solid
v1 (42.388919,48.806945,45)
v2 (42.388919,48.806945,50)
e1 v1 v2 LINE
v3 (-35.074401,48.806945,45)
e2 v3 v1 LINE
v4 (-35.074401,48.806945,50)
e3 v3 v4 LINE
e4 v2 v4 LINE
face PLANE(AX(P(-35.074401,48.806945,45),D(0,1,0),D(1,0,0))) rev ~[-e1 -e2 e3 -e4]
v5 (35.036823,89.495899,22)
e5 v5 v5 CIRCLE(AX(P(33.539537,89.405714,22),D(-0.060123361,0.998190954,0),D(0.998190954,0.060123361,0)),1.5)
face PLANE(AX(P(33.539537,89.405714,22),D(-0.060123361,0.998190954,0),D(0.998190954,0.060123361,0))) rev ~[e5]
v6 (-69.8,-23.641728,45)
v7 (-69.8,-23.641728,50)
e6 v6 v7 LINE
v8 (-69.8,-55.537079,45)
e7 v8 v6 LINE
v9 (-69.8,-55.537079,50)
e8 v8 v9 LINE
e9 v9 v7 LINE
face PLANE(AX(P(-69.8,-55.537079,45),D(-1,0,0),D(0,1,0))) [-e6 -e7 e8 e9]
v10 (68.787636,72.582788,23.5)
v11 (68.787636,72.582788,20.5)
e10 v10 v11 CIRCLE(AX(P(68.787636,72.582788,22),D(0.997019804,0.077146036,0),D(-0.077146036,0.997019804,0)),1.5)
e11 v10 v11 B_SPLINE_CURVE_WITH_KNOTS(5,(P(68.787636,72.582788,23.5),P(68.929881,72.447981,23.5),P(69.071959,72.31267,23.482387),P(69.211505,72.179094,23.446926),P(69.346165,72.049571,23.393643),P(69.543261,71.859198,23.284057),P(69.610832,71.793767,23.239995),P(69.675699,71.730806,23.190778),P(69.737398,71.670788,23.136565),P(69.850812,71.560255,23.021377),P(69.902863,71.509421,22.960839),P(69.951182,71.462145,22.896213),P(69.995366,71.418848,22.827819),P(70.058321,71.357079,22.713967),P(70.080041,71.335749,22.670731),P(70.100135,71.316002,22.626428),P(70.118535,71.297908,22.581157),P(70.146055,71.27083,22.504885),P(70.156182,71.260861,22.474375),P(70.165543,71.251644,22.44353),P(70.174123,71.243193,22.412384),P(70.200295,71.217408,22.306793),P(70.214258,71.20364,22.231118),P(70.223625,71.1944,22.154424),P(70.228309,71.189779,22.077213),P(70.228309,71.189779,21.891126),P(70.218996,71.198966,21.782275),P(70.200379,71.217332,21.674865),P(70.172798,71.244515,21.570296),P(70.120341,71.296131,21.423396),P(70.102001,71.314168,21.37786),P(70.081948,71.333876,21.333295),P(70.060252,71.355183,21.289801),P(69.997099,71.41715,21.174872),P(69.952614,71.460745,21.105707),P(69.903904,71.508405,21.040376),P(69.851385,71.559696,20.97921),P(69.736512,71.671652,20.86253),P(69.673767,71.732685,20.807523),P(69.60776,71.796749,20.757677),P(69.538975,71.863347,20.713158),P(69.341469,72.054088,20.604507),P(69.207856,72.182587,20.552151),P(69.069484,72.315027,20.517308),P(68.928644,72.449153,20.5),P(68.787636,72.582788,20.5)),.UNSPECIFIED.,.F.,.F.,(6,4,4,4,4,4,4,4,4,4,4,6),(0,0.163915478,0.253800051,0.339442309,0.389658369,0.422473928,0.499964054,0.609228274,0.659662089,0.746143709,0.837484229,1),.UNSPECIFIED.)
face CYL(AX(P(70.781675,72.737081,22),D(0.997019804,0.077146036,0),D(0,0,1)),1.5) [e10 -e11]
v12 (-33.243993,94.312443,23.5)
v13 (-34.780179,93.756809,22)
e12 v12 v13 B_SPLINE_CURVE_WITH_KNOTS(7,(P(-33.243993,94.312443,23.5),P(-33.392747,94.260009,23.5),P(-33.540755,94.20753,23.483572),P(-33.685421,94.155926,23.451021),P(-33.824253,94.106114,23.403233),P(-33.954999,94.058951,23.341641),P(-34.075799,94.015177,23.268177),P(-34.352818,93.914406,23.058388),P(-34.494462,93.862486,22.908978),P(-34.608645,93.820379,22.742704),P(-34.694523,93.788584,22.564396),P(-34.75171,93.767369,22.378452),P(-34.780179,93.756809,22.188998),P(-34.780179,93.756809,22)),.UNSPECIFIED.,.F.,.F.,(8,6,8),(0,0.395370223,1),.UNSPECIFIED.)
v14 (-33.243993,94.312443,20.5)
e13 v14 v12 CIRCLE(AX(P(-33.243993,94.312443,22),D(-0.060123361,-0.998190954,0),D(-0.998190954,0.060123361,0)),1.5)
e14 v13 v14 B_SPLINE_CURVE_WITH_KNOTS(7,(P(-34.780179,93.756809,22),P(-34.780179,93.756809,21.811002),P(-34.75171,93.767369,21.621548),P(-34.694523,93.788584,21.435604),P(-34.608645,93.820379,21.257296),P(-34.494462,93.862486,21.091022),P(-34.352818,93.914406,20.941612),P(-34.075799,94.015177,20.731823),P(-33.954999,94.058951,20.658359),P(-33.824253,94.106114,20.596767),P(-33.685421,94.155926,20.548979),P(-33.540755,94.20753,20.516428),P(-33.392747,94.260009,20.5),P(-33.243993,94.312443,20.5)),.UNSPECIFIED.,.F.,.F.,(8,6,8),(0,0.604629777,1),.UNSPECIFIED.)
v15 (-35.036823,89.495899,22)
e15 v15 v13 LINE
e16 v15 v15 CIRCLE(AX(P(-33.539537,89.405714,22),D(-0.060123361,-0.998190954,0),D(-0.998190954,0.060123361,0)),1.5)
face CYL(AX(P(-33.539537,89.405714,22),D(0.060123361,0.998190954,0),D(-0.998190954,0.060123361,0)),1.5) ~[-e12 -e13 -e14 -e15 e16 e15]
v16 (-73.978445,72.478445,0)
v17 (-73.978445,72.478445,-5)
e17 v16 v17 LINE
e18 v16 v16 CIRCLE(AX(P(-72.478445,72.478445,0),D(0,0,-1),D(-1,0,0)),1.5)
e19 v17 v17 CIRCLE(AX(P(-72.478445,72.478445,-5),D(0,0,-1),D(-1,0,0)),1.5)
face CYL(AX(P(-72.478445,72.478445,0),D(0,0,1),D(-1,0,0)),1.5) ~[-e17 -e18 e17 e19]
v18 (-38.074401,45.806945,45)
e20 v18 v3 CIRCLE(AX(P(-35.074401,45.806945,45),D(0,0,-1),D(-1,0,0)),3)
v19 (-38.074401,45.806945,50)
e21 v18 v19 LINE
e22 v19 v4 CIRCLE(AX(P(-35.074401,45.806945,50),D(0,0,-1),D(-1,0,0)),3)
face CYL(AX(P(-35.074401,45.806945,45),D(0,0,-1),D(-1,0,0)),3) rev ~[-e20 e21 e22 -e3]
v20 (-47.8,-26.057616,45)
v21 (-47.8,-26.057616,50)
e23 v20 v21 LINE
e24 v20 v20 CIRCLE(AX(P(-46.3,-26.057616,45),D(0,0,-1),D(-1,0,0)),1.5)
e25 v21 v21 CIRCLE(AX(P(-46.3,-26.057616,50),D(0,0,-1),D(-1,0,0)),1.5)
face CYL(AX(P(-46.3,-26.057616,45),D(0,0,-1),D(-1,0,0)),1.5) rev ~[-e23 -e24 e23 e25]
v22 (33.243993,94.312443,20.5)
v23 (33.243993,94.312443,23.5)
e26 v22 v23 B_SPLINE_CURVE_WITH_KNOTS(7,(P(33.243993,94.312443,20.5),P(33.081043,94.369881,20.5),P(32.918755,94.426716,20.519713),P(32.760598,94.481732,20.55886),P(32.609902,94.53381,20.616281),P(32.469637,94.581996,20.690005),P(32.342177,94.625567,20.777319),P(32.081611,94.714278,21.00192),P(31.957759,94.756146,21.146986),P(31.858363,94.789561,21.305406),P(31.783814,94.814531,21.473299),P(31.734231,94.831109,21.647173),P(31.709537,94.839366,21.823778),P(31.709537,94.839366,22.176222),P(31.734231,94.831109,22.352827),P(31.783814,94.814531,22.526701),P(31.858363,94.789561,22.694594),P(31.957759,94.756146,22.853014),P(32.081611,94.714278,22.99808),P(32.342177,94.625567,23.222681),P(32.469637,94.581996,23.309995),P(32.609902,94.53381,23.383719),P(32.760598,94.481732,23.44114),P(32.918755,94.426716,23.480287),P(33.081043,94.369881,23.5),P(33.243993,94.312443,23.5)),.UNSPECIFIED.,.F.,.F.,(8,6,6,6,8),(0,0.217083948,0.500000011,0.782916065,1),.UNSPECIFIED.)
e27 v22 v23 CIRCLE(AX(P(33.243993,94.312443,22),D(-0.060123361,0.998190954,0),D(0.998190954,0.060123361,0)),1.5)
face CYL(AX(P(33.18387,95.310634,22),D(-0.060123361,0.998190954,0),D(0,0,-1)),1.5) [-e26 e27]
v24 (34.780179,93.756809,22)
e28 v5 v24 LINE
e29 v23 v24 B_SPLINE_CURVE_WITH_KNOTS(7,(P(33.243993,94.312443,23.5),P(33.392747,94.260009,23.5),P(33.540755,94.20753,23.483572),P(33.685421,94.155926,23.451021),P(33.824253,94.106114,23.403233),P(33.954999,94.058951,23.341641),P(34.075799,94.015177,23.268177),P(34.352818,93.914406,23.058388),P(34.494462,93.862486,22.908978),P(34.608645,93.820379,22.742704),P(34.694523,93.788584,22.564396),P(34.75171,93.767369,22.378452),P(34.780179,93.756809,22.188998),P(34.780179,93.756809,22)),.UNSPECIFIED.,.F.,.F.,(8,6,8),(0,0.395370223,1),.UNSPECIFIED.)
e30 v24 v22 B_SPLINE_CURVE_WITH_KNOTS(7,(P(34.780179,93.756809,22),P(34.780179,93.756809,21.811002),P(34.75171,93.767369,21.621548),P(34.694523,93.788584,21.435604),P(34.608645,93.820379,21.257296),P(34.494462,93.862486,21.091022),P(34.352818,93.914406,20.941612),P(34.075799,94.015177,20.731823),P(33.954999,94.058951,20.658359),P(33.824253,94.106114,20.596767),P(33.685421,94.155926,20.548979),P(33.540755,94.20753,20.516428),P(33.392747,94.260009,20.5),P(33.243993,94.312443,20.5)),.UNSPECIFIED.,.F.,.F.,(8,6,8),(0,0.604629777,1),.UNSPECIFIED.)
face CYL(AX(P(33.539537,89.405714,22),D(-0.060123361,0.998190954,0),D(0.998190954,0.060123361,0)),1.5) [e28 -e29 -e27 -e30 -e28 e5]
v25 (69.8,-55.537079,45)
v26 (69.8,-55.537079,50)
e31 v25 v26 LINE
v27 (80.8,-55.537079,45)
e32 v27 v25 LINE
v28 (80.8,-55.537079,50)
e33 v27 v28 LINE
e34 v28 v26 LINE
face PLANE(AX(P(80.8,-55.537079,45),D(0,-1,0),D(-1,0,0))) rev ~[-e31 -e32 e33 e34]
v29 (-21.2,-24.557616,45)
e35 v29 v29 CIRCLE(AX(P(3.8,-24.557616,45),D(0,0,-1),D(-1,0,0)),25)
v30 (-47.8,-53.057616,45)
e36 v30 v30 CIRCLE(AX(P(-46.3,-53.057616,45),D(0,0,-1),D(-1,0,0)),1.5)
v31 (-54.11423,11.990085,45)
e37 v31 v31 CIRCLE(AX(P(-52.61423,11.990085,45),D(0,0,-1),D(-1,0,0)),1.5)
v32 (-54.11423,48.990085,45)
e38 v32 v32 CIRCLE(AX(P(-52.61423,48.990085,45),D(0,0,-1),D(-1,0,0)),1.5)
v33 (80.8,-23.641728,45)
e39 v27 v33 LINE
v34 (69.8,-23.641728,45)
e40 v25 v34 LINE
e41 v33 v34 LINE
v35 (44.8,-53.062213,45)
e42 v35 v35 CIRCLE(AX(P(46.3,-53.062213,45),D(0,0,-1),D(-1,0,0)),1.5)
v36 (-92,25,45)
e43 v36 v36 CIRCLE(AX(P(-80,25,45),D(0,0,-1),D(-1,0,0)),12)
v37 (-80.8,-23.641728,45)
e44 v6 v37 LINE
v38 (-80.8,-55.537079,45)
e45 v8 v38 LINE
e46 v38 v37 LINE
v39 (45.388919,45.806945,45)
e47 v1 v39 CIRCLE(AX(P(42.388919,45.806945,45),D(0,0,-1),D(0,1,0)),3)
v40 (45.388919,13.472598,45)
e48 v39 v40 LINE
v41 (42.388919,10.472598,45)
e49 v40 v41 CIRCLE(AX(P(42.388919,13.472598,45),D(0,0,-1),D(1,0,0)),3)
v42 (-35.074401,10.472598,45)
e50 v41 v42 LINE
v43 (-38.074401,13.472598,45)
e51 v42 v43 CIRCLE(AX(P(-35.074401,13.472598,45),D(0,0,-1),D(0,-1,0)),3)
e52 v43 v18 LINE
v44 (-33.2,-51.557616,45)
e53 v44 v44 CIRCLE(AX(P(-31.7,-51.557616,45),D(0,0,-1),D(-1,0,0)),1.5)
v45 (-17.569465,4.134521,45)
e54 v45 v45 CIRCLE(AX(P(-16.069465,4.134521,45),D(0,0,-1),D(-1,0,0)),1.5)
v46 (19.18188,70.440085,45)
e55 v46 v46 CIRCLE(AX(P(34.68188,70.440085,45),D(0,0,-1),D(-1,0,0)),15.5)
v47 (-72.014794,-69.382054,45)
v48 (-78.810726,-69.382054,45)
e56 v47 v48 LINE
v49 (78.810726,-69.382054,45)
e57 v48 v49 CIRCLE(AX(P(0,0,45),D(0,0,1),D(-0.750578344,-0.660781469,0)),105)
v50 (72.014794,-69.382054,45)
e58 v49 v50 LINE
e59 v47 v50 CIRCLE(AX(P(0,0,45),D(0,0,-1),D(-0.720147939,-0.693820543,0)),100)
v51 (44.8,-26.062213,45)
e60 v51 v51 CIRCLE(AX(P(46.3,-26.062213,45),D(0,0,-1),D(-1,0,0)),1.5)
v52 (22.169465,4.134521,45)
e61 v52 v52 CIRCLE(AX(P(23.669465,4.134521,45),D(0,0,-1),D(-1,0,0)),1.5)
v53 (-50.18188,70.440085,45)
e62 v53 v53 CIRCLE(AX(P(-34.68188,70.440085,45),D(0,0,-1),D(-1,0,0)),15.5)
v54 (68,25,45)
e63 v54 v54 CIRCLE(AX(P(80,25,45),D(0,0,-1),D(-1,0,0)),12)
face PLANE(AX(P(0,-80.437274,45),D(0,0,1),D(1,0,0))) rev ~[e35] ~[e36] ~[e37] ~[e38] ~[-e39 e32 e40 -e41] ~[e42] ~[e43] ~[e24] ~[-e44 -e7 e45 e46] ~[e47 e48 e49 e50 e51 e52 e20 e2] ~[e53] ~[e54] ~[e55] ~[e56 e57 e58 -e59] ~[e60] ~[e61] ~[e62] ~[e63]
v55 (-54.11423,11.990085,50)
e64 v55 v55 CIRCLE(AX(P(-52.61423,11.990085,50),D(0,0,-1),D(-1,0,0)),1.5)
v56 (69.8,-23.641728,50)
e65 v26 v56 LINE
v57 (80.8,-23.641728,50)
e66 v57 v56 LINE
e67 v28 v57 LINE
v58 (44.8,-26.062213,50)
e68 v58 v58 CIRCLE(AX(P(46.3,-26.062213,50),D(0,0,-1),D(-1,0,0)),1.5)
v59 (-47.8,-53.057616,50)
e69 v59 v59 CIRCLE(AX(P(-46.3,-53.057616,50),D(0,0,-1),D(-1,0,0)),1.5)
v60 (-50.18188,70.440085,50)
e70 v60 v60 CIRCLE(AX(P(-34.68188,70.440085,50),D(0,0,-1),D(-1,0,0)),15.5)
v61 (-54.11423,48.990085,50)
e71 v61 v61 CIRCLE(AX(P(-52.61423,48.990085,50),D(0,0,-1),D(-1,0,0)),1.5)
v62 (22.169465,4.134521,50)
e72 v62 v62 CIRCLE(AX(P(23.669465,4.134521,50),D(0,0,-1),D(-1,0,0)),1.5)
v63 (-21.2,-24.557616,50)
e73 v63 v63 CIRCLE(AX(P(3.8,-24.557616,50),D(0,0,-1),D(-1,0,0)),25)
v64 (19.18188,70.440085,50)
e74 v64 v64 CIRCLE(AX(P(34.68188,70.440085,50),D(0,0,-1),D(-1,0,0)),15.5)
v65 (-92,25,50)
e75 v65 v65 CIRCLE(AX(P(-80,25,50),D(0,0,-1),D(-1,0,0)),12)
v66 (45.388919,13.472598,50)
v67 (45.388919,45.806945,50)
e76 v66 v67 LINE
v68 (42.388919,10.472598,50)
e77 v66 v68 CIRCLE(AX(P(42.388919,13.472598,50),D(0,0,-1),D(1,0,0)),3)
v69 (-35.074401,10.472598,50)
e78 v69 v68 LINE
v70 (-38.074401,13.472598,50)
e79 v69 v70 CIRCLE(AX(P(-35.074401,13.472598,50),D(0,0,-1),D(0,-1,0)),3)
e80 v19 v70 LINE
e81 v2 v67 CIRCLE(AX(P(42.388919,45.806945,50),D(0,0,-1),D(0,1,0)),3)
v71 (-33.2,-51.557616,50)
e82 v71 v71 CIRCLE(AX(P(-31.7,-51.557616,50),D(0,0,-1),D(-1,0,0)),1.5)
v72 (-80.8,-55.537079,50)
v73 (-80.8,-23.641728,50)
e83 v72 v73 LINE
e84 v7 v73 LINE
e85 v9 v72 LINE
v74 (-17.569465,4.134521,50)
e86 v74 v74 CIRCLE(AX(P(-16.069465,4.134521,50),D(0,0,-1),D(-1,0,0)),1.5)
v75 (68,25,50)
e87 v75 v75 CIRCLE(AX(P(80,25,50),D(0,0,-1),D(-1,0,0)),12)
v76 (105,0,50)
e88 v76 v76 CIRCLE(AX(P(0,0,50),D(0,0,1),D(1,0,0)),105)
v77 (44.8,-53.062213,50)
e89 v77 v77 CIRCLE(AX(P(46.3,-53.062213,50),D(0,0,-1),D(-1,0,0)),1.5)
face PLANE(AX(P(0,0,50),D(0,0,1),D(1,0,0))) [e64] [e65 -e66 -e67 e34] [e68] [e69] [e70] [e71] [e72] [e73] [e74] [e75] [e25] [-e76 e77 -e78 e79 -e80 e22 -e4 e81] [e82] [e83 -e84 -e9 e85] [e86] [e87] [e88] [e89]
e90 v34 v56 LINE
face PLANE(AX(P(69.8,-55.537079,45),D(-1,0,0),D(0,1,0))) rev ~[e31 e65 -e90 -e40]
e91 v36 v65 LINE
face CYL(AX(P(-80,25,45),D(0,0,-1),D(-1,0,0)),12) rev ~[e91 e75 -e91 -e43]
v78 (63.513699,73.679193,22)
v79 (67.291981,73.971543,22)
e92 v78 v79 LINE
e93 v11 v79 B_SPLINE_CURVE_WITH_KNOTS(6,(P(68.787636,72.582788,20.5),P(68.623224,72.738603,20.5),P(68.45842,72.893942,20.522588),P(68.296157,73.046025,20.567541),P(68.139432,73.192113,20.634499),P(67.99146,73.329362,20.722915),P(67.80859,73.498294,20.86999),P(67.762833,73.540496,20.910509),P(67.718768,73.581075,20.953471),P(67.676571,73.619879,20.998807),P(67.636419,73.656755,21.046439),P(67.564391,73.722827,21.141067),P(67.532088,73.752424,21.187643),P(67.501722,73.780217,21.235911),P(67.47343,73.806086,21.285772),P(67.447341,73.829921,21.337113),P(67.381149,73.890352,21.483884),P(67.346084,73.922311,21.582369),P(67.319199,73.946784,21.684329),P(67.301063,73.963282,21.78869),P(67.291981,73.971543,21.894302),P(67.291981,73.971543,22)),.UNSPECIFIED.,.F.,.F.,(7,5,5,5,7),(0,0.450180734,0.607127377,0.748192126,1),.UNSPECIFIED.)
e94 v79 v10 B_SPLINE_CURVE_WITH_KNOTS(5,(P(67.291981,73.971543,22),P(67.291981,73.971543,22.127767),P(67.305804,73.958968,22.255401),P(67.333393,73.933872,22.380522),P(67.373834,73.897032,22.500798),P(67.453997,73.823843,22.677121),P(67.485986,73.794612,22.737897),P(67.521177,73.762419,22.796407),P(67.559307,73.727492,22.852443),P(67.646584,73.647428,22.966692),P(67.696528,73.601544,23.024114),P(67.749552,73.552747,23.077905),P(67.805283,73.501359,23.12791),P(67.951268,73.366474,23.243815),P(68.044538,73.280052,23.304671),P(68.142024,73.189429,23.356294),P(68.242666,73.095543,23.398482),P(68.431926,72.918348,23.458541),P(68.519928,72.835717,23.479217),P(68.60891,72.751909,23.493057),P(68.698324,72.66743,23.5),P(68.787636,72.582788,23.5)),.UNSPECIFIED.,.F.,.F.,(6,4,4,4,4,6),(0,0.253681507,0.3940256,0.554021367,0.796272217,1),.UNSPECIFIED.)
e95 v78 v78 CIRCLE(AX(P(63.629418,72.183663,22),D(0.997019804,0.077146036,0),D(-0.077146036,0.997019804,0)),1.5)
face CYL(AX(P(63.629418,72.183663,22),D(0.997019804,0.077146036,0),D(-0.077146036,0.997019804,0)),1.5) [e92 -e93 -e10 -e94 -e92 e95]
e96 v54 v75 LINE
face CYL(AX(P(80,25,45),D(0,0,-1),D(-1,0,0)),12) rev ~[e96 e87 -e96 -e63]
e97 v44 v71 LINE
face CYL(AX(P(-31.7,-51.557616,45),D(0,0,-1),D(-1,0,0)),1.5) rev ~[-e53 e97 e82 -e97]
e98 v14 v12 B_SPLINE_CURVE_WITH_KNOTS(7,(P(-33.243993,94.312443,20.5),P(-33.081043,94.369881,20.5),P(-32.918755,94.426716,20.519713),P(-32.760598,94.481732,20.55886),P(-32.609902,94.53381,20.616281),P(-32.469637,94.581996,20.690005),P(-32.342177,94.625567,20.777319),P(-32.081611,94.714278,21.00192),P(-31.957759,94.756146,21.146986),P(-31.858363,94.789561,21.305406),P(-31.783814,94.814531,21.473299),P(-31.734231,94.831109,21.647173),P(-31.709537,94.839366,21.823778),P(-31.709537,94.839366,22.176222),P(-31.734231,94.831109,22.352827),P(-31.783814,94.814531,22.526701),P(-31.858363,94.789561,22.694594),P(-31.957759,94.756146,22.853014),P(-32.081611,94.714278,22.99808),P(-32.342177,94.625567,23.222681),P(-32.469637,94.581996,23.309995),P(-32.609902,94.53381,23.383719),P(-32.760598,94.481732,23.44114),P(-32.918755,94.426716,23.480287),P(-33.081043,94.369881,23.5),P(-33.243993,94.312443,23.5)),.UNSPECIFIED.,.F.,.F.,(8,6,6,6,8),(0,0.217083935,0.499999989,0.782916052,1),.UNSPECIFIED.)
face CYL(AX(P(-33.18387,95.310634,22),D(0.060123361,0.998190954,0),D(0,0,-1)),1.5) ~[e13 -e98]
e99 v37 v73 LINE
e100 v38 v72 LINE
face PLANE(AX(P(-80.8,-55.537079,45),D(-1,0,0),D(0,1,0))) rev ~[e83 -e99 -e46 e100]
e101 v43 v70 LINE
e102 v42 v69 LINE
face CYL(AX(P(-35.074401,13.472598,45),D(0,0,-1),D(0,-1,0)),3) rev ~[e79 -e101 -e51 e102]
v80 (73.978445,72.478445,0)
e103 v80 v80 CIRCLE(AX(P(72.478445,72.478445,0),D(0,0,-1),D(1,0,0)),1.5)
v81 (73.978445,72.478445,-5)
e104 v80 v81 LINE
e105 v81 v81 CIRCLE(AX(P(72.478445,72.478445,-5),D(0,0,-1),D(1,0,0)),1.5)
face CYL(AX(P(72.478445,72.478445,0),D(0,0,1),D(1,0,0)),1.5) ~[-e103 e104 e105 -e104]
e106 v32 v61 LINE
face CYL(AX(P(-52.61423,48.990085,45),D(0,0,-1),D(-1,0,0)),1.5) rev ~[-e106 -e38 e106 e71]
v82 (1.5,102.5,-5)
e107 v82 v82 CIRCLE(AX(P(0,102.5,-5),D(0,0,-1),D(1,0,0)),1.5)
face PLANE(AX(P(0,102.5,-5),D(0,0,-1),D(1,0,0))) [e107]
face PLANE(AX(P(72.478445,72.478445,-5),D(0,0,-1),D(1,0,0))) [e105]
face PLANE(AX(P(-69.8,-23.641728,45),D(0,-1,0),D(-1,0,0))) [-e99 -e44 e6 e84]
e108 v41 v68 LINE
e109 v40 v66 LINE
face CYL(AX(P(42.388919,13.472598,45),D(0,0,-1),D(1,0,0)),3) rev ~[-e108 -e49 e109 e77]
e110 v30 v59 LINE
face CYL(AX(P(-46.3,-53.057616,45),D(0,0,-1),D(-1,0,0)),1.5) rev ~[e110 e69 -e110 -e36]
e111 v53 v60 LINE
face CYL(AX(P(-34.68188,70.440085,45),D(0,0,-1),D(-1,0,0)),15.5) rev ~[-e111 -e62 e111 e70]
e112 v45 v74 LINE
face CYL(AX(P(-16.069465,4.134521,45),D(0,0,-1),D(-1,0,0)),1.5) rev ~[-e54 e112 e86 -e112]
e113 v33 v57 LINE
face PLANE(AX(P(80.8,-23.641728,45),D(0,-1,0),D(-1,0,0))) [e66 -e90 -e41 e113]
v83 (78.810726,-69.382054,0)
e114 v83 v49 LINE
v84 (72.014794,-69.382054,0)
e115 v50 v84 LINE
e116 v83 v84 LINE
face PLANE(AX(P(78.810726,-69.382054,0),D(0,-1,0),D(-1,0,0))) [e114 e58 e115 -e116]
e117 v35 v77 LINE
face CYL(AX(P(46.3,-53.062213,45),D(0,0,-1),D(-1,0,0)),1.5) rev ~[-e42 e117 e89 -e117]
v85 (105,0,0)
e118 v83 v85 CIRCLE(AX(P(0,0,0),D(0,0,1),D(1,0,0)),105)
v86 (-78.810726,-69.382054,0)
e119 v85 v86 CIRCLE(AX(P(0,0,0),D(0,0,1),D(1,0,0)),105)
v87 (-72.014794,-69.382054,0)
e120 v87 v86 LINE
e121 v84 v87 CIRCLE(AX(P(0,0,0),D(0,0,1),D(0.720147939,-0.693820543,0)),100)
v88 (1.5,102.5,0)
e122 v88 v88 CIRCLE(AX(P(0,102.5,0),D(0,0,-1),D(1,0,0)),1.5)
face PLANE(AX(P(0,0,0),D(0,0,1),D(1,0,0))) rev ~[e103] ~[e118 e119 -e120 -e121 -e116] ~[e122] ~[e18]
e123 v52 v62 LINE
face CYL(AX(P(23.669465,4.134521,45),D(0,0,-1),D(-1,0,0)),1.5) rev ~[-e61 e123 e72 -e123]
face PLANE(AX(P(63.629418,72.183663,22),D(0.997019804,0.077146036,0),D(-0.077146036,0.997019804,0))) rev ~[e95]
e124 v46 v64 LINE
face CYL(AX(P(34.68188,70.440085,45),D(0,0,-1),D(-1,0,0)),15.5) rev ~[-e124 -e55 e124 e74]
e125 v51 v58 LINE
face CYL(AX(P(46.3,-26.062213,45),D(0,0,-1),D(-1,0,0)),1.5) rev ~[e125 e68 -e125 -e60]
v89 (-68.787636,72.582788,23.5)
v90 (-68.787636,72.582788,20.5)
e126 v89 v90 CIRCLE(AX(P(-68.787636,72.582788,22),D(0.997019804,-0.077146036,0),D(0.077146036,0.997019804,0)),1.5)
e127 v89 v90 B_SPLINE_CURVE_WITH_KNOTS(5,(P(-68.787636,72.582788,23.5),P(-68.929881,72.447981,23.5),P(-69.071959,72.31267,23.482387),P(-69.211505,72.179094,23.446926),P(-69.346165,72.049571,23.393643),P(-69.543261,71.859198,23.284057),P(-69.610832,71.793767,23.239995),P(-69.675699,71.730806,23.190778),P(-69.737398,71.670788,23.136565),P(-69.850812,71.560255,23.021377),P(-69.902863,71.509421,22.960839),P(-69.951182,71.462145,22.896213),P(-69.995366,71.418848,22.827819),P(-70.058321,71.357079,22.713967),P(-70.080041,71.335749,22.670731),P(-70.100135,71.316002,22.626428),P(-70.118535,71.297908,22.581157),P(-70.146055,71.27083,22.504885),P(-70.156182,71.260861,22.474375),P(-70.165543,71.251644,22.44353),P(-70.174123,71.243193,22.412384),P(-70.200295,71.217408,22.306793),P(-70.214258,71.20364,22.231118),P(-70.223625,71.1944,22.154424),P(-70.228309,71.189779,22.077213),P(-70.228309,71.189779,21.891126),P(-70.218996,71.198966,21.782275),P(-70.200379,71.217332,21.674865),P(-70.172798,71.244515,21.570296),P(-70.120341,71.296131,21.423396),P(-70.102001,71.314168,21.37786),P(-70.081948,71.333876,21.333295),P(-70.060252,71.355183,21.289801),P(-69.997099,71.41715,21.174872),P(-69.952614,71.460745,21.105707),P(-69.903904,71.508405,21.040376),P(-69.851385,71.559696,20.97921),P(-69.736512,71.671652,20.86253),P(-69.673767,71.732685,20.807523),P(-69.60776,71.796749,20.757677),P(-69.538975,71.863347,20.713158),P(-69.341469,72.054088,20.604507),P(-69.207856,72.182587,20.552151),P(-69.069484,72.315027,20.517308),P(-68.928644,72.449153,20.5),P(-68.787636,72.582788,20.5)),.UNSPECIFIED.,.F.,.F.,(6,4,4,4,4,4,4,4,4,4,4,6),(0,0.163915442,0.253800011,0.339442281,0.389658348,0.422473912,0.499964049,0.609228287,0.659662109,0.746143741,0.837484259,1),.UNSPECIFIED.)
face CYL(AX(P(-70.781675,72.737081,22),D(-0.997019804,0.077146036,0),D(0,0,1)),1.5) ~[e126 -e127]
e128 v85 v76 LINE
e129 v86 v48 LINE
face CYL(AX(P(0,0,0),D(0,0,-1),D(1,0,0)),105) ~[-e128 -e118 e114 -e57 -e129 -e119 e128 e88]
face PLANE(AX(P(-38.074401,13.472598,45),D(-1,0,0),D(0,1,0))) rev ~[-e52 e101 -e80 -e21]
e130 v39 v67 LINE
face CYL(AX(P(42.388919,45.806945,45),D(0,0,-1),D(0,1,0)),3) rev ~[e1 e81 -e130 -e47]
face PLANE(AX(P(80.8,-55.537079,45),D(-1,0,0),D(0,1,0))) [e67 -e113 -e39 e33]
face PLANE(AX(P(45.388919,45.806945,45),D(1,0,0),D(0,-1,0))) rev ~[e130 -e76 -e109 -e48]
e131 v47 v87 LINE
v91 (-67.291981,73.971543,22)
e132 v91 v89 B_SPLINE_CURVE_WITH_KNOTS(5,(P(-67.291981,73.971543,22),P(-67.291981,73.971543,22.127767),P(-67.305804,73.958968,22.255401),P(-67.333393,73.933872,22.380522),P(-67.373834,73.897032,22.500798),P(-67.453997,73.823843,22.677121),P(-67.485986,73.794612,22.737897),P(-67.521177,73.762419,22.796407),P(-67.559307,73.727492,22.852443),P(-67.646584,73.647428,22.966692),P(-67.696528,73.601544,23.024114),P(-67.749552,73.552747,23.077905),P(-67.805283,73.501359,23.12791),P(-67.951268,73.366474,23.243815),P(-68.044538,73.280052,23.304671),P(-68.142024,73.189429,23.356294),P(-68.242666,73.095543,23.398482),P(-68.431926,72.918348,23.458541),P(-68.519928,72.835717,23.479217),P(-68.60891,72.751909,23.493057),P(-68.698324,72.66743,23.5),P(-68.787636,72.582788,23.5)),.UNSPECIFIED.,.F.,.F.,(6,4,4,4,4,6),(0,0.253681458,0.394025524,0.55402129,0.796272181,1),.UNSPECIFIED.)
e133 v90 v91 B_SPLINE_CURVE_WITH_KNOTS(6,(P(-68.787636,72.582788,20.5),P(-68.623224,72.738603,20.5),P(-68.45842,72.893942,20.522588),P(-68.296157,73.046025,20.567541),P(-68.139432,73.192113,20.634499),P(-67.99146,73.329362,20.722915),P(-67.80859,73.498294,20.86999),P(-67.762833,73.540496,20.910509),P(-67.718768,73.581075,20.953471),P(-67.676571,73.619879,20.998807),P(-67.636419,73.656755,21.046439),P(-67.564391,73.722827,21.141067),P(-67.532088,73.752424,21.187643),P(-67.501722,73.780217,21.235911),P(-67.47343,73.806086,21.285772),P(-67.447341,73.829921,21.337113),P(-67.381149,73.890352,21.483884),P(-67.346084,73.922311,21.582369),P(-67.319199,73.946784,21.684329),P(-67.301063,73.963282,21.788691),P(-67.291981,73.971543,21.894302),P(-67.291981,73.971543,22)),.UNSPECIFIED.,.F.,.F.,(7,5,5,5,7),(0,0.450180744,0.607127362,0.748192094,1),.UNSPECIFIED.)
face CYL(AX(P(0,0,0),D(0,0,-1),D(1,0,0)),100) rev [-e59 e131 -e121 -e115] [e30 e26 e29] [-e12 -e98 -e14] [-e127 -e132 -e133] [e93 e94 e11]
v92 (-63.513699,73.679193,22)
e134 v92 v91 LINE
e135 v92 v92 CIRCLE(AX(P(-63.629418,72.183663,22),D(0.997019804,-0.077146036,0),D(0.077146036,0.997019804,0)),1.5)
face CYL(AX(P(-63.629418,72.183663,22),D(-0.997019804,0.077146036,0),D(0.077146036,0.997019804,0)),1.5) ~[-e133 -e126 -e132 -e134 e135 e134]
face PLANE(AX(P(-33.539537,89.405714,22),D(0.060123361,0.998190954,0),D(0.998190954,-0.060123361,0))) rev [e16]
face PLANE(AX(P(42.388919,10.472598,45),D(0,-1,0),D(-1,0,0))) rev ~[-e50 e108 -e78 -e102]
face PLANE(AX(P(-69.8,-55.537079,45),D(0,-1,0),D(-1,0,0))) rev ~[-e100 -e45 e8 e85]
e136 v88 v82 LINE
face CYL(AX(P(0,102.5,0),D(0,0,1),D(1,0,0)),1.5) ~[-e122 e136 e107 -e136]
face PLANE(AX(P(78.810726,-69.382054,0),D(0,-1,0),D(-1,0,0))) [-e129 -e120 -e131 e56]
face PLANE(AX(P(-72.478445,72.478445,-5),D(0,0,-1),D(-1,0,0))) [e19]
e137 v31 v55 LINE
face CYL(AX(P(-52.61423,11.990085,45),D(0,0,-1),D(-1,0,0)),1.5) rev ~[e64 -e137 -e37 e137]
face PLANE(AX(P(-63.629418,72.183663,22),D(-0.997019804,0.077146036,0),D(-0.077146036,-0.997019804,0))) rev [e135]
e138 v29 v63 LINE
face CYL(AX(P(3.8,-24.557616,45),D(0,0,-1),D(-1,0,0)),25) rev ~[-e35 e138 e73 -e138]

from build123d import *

# Parameters (mm, degrees)
ESQUISSE1_R             = 105
BOSS_EXTRU_1_DEPTH      = 50
COQUE1_T                = -5
ESQUISSE3_R             = 25
ESQUISSE3_R_2           = 1.5
ENL_V_MAT_EXTRU_1_DEPTH = 10
ENL_V_MAT_EXTRU_2_DEPTH = 156.161206492
ENL_V_MAT_EXTRU_3_DEPTH = 45
ESQUISSE7_R             = 1.5
ENL_V_MAT_EXTRU_4_DEPTH = 156.161206492
ESQUISSE8_W             = 11
ESQUISSE8_H             = 31.895350387
ENL_V_MAT_EXTRU_5_DEPTH = 5
ESQUISSE9_R             = 15.5
ENL_V_MAT_EXTRU_7_DEPTH = 156.161206492
BALAYAGE1_PROFILE_R     = 1.5
BOSS_EXTRU_2_START      = 1
BOSS_EXTRU_2_DEPTH      = 1
BALAYAGE2_PROFILE_R     = 1.5
BOSS_EXTRU_3_START      = 2
BOSS_EXTRU_3_DEPTH      = 2
ESQUISSE30_R            = 1.5
BOSS_EXTRU_4_DEPTH      = 5
ESQUISSE31_R            = 12
ENL_V_MAT_EXTRU_8_DEPTH = 5


with BuildPart() as part:
    # Esquisse1 → Boss.-Extru.1 (new body)
    with BuildSketch(Plane.XY):
        Circle(ESQUISSE1_R)
    extrude(amount=BOSS_EXTRU_1_DEPTH)

    # Coque1
    coque1_openings = [part.faces().sort_by_distance(p)[0] for p in [
        (0, 0, 0),
    ]]
    offset(amount=COQUE1_T, openings=coque1_openings, kind=Kind.INTERSECTION)

    # Esquisse3 → Enlèv. mat.-Extru.1 (cut)
    with BuildSketch(Plane(origin=(0, 0, 45), x_dir=(-1, 0, 0), z_dir=(0, 0, -1))):
        with Locations((-3.8, -24.557615642)):
            Circle(ESQUISSE3_R)
        with Locations((-23.669465397, 4.134521322)):
            Circle(ESQUISSE3_R_2)
        with Locations((16.069465397, 4.134521322)):
            Circle(ESQUISSE3_R_2)
        with Locations((31.7, -51.557615642)):
            Circle(ESQUISSE3_R_2)
    extrude(amount=-ENL_V_MAT_EXTRU_1_DEPTH, mode=Mode.SUBTRACT)

    # Esquisse5 → Enlèv. mat.-Extru.2 (cut, through all)
    with BuildSketch(Plane(origin=(0, 0, 45), x_dir=(-1, 0, 0), z_dir=(0, 0, -1))):
        with BuildLine():
            Line((-42.388918531, 10.472597699), (35.07440103, 10.472597699))
            ThreePointArc((35.07440103, 10.472597699), (37.195721374, 11.351277356), (38.07440103, 13.472597699))
            Line((38.07440103, 13.472597699), (38.07440103, 45.806945365))
            ThreePointArc((38.07440103, 45.806945365), (37.195721374, 47.928265708), (35.07440103, 48.806945365))
            Line((35.07440103, 48.806945365), (-42.388918531, 48.806945365))
            ThreePointArc((-42.388918531, 48.806945365), (-44.510238875, 47.928265708), (-45.388918531, 45.806945365))
            Line((-45.388918531, 45.806945365), (-45.388918531, 13.472597699))
            ThreePointArc((-45.388918531, 13.472597699), (-44.510238875, 11.351277356), (-42.388918531, 10.472597699))
        make_face()
    extrude(amount=-ENL_V_MAT_EXTRU_2_DEPTH, mode=Mode.SUBTRACT)

    # Esquisse6 → Enlèv. mat.-Extru.3 (cut)
    with BuildSketch(Plane(origin=(0, 0, 0), x_dir=(-1, 0, 0), z_dir=(0, 0, -1))):
        with BuildLine():
            Line((-78.81072608, -69.38205427), (78.81072608, -69.38205427))
            ThreePointArc((78.81072608, -69.38205427), (0, -105), (-78.81072608, -69.38205427))
        make_face()
    extrude(amount=-ENL_V_MAT_EXTRU_3_DEPTH, mode=Mode.SUBTRACT)

    # Esquisse7 → Enlèv. mat.-Extru.4 (cut, through all)
    with BuildSketch(Plane(origin=(0, 0, 45), x_dir=(-1, 0, 0), z_dir=(0, 0, -1))):
        with Locations((52.614229855, 48.990085475)):
            Circle(ESQUISSE7_R)
        with Locations((52.614229855, 11.990085475)):
            Circle(ESQUISSE7_R)
        with Locations((46.3, -26.057615642)):
            Circle(ESQUISSE7_R)
        with Locations((46.3, -53.057615642)):
            Circle(ESQUISSE7_R)
        with Locations((-46.3, -26.062213408)):
            Circle(ESQUISSE7_R)
        with Locations((-46.3, -53.062213408)):
            Circle(ESQUISSE7_R)
    extrude(amount=-ENL_V_MAT_EXTRU_4_DEPTH, mode=Mode.SUBTRACT)

    # Esquisse8 → Enlèv. mat.-Extru.5 (cut)
    with BuildSketch(Plane(origin=(0, 0, 45), x_dir=(-1, 0, 0), z_dir=(0, 0, -1))):
        with Locations((-75.3, -39.589403314)):
            Rectangle(ESQUISSE8_W, ESQUISSE8_H)
        with Locations((75.3, -39.589403314)):
            Rectangle(ESQUISSE8_W, ESQUISSE8_H)
    extrude(amount=-ENL_V_MAT_EXTRU_5_DEPTH, mode=Mode.SUBTRACT)

    # Esquisse9 → Enlèv. mat.-Extru.7 (cut, through all)
    with BuildSketch(Plane(origin=(0, 0, 45), x_dir=(-1, 0, 0), z_dir=(0, 0, -1))):
        with Locations((34.681880454, 70.440085475)):
            Circle(ESQUISSE9_R)
        with Locations((-34.681880454, 70.440085475)):
            Circle(ESQUISSE9_R)
    extrude(amount=-ENL_V_MAT_EXTRU_7_DEPTH, mode=Mode.SUBTRACT)

    # Balayage1: sweep along a path in Esquisse10
    with BuildLine(Plane(origin=(-9.681880454, 0.440085475, 22), x_dir=(-1, 0, 0), z_dir=(0, 0, -1))) as balayage1_path:
        Line((-43.221417057, 88.965628134), (-42.925873334, 93.872357698))
    # Balayage1 profile (on start of the path) → Balayage1 (sweep)
    with BuildSketch(Plane(origin=(33.539536603, 89.405713609, 22), x_dir=(0.9981909544337458, 0.060123360573471965, 0), z_dir=(-0.060123360573471965, 0.9981909544337458, 0))):
        Circle(BALAYAGE1_PROFILE_R)
    balayage1 = sweep(path=balayage1_path.line)

    # Esquisse19 → Boss.-Extru.2 (add)
    with BuildSketch(Plane(origin=(-5.53995205, 91.976396052, 0), x_dir=(0.998190954433746, 0.06012336057346903, 0), z_dir=(-0.06012336057346903, 0.998190954433746, 0)).offset(BOSS_EXTRU_2_START)):
        with BuildLine():
            Line((38.85423401, -23.5), (38.85423401, -20.5))
            ThreePointArc((38.85423401, -20.5), (37.35423401, -22), (38.85423401, -23.5))
        make_face()
    boss_extru_2 = extrude(amount=-BOSS_EXTRU_2_DEPTH)

    # Balayage2: sweep along a path in Esquisse20
    with BuildLine(Plane(origin=(-9.681880454, 0.440085475, 22), x_dir=(-1, 0, 0), z_dir=(0, 0, -1))) as balayage2_path:
        Line((-73.311298587, 71.743577457), (-78.469516131, 72.142702967))
    # Balayage2 profile (on start of the path) → Balayage2 (sweep)
    with BuildSketch(Plane(origin=(63.629418133, 72.183662932, 22), x_dir=(-0.07714603625431019, 0.9970198037603109, 0), z_dir=(0.9970198037603109, 0.07714603625431019, 0))):
        Circle(BALAYAGE2_PROFILE_R)
    balayage2 = sweep(path=balayage2_path.line)

    # Esquisse27 → Boss.-Extru.3 (add)
    with BuildSketch(Plane(origin=(73.961032209, 5.722855705, 0), x_dir=(0, 0, -1), z_dir=(0.9970198037603113, 0.07714603625430425, 0)).offset(BOSS_EXTRU_3_START)):
        with BuildLine():
            Line((-20.5, 67.059784053), (-23.5, 67.059784053))
            ThreePointArc((-23.5, 67.059784053), (-22, 65.559784053), (-20.5, 67.059784053))
        make_face()
    boss_extru_3 = extrude(amount=-BOSS_EXTRU_3_DEPTH)

    # Symétrie1: Balayage1, Boss.-Extru.2, Balayage2, Boss.-Extru.3 across plane
    add(balayage1.mirror(Plane(origin=(0, 0, 0), x_dir=(0, 0, 1), z_dir=(1, 0, 0))))
    add(boss_extru_2.mirror(Plane(origin=(0, 0, 0), x_dir=(0, 0, 1), z_dir=(1, 0, 0))))
    add(balayage2.mirror(Plane(origin=(0, 0, 0), x_dir=(0, 0, 1), z_dir=(1, 0, 0))))
    add(boss_extru_3.mirror(Plane(origin=(0, 0, 0), x_dir=(0, 0, 1), z_dir=(1, 0, 0))))

    # Esquisse30 → Boss.-Extru.4 (add)
    with BuildSketch(Plane(origin=(0, 0, 0), x_dir=(-1, 0, 0), z_dir=(0, 0, -1))):
        with Locations(Location((0, 102.5, 0), (0, 0, 180))):
            Circle(ESQUISSE30_R)
        with Locations(Location((-72.478445072, 72.478445072, 0), (0, 0, 180))):
            Circle(ESQUISSE30_R)
        with Locations((72.478445072, 72.478445072)):
            Circle(ESQUISSE30_R)
    extrude(amount=BOSS_EXTRU_4_DEPTH)

    # Esquisse31 → Enlèv. mat.-Extru.8 (cut)
    with BuildSketch(Plane(origin=(0, 0, 45), x_dir=(-1, 0, 0), z_dir=(0, 0, -1))):
        with Locations((-80, 25)):
            Circle(ESQUISSE31_R)
        with Locations((80, 25)):
            Circle(ESQUISSE31_R)
    extrude(amount=-ENL_V_MAT_EXTRU_8_DEPTH, mode=Mode.SUBTRACT)


solid = part.part
